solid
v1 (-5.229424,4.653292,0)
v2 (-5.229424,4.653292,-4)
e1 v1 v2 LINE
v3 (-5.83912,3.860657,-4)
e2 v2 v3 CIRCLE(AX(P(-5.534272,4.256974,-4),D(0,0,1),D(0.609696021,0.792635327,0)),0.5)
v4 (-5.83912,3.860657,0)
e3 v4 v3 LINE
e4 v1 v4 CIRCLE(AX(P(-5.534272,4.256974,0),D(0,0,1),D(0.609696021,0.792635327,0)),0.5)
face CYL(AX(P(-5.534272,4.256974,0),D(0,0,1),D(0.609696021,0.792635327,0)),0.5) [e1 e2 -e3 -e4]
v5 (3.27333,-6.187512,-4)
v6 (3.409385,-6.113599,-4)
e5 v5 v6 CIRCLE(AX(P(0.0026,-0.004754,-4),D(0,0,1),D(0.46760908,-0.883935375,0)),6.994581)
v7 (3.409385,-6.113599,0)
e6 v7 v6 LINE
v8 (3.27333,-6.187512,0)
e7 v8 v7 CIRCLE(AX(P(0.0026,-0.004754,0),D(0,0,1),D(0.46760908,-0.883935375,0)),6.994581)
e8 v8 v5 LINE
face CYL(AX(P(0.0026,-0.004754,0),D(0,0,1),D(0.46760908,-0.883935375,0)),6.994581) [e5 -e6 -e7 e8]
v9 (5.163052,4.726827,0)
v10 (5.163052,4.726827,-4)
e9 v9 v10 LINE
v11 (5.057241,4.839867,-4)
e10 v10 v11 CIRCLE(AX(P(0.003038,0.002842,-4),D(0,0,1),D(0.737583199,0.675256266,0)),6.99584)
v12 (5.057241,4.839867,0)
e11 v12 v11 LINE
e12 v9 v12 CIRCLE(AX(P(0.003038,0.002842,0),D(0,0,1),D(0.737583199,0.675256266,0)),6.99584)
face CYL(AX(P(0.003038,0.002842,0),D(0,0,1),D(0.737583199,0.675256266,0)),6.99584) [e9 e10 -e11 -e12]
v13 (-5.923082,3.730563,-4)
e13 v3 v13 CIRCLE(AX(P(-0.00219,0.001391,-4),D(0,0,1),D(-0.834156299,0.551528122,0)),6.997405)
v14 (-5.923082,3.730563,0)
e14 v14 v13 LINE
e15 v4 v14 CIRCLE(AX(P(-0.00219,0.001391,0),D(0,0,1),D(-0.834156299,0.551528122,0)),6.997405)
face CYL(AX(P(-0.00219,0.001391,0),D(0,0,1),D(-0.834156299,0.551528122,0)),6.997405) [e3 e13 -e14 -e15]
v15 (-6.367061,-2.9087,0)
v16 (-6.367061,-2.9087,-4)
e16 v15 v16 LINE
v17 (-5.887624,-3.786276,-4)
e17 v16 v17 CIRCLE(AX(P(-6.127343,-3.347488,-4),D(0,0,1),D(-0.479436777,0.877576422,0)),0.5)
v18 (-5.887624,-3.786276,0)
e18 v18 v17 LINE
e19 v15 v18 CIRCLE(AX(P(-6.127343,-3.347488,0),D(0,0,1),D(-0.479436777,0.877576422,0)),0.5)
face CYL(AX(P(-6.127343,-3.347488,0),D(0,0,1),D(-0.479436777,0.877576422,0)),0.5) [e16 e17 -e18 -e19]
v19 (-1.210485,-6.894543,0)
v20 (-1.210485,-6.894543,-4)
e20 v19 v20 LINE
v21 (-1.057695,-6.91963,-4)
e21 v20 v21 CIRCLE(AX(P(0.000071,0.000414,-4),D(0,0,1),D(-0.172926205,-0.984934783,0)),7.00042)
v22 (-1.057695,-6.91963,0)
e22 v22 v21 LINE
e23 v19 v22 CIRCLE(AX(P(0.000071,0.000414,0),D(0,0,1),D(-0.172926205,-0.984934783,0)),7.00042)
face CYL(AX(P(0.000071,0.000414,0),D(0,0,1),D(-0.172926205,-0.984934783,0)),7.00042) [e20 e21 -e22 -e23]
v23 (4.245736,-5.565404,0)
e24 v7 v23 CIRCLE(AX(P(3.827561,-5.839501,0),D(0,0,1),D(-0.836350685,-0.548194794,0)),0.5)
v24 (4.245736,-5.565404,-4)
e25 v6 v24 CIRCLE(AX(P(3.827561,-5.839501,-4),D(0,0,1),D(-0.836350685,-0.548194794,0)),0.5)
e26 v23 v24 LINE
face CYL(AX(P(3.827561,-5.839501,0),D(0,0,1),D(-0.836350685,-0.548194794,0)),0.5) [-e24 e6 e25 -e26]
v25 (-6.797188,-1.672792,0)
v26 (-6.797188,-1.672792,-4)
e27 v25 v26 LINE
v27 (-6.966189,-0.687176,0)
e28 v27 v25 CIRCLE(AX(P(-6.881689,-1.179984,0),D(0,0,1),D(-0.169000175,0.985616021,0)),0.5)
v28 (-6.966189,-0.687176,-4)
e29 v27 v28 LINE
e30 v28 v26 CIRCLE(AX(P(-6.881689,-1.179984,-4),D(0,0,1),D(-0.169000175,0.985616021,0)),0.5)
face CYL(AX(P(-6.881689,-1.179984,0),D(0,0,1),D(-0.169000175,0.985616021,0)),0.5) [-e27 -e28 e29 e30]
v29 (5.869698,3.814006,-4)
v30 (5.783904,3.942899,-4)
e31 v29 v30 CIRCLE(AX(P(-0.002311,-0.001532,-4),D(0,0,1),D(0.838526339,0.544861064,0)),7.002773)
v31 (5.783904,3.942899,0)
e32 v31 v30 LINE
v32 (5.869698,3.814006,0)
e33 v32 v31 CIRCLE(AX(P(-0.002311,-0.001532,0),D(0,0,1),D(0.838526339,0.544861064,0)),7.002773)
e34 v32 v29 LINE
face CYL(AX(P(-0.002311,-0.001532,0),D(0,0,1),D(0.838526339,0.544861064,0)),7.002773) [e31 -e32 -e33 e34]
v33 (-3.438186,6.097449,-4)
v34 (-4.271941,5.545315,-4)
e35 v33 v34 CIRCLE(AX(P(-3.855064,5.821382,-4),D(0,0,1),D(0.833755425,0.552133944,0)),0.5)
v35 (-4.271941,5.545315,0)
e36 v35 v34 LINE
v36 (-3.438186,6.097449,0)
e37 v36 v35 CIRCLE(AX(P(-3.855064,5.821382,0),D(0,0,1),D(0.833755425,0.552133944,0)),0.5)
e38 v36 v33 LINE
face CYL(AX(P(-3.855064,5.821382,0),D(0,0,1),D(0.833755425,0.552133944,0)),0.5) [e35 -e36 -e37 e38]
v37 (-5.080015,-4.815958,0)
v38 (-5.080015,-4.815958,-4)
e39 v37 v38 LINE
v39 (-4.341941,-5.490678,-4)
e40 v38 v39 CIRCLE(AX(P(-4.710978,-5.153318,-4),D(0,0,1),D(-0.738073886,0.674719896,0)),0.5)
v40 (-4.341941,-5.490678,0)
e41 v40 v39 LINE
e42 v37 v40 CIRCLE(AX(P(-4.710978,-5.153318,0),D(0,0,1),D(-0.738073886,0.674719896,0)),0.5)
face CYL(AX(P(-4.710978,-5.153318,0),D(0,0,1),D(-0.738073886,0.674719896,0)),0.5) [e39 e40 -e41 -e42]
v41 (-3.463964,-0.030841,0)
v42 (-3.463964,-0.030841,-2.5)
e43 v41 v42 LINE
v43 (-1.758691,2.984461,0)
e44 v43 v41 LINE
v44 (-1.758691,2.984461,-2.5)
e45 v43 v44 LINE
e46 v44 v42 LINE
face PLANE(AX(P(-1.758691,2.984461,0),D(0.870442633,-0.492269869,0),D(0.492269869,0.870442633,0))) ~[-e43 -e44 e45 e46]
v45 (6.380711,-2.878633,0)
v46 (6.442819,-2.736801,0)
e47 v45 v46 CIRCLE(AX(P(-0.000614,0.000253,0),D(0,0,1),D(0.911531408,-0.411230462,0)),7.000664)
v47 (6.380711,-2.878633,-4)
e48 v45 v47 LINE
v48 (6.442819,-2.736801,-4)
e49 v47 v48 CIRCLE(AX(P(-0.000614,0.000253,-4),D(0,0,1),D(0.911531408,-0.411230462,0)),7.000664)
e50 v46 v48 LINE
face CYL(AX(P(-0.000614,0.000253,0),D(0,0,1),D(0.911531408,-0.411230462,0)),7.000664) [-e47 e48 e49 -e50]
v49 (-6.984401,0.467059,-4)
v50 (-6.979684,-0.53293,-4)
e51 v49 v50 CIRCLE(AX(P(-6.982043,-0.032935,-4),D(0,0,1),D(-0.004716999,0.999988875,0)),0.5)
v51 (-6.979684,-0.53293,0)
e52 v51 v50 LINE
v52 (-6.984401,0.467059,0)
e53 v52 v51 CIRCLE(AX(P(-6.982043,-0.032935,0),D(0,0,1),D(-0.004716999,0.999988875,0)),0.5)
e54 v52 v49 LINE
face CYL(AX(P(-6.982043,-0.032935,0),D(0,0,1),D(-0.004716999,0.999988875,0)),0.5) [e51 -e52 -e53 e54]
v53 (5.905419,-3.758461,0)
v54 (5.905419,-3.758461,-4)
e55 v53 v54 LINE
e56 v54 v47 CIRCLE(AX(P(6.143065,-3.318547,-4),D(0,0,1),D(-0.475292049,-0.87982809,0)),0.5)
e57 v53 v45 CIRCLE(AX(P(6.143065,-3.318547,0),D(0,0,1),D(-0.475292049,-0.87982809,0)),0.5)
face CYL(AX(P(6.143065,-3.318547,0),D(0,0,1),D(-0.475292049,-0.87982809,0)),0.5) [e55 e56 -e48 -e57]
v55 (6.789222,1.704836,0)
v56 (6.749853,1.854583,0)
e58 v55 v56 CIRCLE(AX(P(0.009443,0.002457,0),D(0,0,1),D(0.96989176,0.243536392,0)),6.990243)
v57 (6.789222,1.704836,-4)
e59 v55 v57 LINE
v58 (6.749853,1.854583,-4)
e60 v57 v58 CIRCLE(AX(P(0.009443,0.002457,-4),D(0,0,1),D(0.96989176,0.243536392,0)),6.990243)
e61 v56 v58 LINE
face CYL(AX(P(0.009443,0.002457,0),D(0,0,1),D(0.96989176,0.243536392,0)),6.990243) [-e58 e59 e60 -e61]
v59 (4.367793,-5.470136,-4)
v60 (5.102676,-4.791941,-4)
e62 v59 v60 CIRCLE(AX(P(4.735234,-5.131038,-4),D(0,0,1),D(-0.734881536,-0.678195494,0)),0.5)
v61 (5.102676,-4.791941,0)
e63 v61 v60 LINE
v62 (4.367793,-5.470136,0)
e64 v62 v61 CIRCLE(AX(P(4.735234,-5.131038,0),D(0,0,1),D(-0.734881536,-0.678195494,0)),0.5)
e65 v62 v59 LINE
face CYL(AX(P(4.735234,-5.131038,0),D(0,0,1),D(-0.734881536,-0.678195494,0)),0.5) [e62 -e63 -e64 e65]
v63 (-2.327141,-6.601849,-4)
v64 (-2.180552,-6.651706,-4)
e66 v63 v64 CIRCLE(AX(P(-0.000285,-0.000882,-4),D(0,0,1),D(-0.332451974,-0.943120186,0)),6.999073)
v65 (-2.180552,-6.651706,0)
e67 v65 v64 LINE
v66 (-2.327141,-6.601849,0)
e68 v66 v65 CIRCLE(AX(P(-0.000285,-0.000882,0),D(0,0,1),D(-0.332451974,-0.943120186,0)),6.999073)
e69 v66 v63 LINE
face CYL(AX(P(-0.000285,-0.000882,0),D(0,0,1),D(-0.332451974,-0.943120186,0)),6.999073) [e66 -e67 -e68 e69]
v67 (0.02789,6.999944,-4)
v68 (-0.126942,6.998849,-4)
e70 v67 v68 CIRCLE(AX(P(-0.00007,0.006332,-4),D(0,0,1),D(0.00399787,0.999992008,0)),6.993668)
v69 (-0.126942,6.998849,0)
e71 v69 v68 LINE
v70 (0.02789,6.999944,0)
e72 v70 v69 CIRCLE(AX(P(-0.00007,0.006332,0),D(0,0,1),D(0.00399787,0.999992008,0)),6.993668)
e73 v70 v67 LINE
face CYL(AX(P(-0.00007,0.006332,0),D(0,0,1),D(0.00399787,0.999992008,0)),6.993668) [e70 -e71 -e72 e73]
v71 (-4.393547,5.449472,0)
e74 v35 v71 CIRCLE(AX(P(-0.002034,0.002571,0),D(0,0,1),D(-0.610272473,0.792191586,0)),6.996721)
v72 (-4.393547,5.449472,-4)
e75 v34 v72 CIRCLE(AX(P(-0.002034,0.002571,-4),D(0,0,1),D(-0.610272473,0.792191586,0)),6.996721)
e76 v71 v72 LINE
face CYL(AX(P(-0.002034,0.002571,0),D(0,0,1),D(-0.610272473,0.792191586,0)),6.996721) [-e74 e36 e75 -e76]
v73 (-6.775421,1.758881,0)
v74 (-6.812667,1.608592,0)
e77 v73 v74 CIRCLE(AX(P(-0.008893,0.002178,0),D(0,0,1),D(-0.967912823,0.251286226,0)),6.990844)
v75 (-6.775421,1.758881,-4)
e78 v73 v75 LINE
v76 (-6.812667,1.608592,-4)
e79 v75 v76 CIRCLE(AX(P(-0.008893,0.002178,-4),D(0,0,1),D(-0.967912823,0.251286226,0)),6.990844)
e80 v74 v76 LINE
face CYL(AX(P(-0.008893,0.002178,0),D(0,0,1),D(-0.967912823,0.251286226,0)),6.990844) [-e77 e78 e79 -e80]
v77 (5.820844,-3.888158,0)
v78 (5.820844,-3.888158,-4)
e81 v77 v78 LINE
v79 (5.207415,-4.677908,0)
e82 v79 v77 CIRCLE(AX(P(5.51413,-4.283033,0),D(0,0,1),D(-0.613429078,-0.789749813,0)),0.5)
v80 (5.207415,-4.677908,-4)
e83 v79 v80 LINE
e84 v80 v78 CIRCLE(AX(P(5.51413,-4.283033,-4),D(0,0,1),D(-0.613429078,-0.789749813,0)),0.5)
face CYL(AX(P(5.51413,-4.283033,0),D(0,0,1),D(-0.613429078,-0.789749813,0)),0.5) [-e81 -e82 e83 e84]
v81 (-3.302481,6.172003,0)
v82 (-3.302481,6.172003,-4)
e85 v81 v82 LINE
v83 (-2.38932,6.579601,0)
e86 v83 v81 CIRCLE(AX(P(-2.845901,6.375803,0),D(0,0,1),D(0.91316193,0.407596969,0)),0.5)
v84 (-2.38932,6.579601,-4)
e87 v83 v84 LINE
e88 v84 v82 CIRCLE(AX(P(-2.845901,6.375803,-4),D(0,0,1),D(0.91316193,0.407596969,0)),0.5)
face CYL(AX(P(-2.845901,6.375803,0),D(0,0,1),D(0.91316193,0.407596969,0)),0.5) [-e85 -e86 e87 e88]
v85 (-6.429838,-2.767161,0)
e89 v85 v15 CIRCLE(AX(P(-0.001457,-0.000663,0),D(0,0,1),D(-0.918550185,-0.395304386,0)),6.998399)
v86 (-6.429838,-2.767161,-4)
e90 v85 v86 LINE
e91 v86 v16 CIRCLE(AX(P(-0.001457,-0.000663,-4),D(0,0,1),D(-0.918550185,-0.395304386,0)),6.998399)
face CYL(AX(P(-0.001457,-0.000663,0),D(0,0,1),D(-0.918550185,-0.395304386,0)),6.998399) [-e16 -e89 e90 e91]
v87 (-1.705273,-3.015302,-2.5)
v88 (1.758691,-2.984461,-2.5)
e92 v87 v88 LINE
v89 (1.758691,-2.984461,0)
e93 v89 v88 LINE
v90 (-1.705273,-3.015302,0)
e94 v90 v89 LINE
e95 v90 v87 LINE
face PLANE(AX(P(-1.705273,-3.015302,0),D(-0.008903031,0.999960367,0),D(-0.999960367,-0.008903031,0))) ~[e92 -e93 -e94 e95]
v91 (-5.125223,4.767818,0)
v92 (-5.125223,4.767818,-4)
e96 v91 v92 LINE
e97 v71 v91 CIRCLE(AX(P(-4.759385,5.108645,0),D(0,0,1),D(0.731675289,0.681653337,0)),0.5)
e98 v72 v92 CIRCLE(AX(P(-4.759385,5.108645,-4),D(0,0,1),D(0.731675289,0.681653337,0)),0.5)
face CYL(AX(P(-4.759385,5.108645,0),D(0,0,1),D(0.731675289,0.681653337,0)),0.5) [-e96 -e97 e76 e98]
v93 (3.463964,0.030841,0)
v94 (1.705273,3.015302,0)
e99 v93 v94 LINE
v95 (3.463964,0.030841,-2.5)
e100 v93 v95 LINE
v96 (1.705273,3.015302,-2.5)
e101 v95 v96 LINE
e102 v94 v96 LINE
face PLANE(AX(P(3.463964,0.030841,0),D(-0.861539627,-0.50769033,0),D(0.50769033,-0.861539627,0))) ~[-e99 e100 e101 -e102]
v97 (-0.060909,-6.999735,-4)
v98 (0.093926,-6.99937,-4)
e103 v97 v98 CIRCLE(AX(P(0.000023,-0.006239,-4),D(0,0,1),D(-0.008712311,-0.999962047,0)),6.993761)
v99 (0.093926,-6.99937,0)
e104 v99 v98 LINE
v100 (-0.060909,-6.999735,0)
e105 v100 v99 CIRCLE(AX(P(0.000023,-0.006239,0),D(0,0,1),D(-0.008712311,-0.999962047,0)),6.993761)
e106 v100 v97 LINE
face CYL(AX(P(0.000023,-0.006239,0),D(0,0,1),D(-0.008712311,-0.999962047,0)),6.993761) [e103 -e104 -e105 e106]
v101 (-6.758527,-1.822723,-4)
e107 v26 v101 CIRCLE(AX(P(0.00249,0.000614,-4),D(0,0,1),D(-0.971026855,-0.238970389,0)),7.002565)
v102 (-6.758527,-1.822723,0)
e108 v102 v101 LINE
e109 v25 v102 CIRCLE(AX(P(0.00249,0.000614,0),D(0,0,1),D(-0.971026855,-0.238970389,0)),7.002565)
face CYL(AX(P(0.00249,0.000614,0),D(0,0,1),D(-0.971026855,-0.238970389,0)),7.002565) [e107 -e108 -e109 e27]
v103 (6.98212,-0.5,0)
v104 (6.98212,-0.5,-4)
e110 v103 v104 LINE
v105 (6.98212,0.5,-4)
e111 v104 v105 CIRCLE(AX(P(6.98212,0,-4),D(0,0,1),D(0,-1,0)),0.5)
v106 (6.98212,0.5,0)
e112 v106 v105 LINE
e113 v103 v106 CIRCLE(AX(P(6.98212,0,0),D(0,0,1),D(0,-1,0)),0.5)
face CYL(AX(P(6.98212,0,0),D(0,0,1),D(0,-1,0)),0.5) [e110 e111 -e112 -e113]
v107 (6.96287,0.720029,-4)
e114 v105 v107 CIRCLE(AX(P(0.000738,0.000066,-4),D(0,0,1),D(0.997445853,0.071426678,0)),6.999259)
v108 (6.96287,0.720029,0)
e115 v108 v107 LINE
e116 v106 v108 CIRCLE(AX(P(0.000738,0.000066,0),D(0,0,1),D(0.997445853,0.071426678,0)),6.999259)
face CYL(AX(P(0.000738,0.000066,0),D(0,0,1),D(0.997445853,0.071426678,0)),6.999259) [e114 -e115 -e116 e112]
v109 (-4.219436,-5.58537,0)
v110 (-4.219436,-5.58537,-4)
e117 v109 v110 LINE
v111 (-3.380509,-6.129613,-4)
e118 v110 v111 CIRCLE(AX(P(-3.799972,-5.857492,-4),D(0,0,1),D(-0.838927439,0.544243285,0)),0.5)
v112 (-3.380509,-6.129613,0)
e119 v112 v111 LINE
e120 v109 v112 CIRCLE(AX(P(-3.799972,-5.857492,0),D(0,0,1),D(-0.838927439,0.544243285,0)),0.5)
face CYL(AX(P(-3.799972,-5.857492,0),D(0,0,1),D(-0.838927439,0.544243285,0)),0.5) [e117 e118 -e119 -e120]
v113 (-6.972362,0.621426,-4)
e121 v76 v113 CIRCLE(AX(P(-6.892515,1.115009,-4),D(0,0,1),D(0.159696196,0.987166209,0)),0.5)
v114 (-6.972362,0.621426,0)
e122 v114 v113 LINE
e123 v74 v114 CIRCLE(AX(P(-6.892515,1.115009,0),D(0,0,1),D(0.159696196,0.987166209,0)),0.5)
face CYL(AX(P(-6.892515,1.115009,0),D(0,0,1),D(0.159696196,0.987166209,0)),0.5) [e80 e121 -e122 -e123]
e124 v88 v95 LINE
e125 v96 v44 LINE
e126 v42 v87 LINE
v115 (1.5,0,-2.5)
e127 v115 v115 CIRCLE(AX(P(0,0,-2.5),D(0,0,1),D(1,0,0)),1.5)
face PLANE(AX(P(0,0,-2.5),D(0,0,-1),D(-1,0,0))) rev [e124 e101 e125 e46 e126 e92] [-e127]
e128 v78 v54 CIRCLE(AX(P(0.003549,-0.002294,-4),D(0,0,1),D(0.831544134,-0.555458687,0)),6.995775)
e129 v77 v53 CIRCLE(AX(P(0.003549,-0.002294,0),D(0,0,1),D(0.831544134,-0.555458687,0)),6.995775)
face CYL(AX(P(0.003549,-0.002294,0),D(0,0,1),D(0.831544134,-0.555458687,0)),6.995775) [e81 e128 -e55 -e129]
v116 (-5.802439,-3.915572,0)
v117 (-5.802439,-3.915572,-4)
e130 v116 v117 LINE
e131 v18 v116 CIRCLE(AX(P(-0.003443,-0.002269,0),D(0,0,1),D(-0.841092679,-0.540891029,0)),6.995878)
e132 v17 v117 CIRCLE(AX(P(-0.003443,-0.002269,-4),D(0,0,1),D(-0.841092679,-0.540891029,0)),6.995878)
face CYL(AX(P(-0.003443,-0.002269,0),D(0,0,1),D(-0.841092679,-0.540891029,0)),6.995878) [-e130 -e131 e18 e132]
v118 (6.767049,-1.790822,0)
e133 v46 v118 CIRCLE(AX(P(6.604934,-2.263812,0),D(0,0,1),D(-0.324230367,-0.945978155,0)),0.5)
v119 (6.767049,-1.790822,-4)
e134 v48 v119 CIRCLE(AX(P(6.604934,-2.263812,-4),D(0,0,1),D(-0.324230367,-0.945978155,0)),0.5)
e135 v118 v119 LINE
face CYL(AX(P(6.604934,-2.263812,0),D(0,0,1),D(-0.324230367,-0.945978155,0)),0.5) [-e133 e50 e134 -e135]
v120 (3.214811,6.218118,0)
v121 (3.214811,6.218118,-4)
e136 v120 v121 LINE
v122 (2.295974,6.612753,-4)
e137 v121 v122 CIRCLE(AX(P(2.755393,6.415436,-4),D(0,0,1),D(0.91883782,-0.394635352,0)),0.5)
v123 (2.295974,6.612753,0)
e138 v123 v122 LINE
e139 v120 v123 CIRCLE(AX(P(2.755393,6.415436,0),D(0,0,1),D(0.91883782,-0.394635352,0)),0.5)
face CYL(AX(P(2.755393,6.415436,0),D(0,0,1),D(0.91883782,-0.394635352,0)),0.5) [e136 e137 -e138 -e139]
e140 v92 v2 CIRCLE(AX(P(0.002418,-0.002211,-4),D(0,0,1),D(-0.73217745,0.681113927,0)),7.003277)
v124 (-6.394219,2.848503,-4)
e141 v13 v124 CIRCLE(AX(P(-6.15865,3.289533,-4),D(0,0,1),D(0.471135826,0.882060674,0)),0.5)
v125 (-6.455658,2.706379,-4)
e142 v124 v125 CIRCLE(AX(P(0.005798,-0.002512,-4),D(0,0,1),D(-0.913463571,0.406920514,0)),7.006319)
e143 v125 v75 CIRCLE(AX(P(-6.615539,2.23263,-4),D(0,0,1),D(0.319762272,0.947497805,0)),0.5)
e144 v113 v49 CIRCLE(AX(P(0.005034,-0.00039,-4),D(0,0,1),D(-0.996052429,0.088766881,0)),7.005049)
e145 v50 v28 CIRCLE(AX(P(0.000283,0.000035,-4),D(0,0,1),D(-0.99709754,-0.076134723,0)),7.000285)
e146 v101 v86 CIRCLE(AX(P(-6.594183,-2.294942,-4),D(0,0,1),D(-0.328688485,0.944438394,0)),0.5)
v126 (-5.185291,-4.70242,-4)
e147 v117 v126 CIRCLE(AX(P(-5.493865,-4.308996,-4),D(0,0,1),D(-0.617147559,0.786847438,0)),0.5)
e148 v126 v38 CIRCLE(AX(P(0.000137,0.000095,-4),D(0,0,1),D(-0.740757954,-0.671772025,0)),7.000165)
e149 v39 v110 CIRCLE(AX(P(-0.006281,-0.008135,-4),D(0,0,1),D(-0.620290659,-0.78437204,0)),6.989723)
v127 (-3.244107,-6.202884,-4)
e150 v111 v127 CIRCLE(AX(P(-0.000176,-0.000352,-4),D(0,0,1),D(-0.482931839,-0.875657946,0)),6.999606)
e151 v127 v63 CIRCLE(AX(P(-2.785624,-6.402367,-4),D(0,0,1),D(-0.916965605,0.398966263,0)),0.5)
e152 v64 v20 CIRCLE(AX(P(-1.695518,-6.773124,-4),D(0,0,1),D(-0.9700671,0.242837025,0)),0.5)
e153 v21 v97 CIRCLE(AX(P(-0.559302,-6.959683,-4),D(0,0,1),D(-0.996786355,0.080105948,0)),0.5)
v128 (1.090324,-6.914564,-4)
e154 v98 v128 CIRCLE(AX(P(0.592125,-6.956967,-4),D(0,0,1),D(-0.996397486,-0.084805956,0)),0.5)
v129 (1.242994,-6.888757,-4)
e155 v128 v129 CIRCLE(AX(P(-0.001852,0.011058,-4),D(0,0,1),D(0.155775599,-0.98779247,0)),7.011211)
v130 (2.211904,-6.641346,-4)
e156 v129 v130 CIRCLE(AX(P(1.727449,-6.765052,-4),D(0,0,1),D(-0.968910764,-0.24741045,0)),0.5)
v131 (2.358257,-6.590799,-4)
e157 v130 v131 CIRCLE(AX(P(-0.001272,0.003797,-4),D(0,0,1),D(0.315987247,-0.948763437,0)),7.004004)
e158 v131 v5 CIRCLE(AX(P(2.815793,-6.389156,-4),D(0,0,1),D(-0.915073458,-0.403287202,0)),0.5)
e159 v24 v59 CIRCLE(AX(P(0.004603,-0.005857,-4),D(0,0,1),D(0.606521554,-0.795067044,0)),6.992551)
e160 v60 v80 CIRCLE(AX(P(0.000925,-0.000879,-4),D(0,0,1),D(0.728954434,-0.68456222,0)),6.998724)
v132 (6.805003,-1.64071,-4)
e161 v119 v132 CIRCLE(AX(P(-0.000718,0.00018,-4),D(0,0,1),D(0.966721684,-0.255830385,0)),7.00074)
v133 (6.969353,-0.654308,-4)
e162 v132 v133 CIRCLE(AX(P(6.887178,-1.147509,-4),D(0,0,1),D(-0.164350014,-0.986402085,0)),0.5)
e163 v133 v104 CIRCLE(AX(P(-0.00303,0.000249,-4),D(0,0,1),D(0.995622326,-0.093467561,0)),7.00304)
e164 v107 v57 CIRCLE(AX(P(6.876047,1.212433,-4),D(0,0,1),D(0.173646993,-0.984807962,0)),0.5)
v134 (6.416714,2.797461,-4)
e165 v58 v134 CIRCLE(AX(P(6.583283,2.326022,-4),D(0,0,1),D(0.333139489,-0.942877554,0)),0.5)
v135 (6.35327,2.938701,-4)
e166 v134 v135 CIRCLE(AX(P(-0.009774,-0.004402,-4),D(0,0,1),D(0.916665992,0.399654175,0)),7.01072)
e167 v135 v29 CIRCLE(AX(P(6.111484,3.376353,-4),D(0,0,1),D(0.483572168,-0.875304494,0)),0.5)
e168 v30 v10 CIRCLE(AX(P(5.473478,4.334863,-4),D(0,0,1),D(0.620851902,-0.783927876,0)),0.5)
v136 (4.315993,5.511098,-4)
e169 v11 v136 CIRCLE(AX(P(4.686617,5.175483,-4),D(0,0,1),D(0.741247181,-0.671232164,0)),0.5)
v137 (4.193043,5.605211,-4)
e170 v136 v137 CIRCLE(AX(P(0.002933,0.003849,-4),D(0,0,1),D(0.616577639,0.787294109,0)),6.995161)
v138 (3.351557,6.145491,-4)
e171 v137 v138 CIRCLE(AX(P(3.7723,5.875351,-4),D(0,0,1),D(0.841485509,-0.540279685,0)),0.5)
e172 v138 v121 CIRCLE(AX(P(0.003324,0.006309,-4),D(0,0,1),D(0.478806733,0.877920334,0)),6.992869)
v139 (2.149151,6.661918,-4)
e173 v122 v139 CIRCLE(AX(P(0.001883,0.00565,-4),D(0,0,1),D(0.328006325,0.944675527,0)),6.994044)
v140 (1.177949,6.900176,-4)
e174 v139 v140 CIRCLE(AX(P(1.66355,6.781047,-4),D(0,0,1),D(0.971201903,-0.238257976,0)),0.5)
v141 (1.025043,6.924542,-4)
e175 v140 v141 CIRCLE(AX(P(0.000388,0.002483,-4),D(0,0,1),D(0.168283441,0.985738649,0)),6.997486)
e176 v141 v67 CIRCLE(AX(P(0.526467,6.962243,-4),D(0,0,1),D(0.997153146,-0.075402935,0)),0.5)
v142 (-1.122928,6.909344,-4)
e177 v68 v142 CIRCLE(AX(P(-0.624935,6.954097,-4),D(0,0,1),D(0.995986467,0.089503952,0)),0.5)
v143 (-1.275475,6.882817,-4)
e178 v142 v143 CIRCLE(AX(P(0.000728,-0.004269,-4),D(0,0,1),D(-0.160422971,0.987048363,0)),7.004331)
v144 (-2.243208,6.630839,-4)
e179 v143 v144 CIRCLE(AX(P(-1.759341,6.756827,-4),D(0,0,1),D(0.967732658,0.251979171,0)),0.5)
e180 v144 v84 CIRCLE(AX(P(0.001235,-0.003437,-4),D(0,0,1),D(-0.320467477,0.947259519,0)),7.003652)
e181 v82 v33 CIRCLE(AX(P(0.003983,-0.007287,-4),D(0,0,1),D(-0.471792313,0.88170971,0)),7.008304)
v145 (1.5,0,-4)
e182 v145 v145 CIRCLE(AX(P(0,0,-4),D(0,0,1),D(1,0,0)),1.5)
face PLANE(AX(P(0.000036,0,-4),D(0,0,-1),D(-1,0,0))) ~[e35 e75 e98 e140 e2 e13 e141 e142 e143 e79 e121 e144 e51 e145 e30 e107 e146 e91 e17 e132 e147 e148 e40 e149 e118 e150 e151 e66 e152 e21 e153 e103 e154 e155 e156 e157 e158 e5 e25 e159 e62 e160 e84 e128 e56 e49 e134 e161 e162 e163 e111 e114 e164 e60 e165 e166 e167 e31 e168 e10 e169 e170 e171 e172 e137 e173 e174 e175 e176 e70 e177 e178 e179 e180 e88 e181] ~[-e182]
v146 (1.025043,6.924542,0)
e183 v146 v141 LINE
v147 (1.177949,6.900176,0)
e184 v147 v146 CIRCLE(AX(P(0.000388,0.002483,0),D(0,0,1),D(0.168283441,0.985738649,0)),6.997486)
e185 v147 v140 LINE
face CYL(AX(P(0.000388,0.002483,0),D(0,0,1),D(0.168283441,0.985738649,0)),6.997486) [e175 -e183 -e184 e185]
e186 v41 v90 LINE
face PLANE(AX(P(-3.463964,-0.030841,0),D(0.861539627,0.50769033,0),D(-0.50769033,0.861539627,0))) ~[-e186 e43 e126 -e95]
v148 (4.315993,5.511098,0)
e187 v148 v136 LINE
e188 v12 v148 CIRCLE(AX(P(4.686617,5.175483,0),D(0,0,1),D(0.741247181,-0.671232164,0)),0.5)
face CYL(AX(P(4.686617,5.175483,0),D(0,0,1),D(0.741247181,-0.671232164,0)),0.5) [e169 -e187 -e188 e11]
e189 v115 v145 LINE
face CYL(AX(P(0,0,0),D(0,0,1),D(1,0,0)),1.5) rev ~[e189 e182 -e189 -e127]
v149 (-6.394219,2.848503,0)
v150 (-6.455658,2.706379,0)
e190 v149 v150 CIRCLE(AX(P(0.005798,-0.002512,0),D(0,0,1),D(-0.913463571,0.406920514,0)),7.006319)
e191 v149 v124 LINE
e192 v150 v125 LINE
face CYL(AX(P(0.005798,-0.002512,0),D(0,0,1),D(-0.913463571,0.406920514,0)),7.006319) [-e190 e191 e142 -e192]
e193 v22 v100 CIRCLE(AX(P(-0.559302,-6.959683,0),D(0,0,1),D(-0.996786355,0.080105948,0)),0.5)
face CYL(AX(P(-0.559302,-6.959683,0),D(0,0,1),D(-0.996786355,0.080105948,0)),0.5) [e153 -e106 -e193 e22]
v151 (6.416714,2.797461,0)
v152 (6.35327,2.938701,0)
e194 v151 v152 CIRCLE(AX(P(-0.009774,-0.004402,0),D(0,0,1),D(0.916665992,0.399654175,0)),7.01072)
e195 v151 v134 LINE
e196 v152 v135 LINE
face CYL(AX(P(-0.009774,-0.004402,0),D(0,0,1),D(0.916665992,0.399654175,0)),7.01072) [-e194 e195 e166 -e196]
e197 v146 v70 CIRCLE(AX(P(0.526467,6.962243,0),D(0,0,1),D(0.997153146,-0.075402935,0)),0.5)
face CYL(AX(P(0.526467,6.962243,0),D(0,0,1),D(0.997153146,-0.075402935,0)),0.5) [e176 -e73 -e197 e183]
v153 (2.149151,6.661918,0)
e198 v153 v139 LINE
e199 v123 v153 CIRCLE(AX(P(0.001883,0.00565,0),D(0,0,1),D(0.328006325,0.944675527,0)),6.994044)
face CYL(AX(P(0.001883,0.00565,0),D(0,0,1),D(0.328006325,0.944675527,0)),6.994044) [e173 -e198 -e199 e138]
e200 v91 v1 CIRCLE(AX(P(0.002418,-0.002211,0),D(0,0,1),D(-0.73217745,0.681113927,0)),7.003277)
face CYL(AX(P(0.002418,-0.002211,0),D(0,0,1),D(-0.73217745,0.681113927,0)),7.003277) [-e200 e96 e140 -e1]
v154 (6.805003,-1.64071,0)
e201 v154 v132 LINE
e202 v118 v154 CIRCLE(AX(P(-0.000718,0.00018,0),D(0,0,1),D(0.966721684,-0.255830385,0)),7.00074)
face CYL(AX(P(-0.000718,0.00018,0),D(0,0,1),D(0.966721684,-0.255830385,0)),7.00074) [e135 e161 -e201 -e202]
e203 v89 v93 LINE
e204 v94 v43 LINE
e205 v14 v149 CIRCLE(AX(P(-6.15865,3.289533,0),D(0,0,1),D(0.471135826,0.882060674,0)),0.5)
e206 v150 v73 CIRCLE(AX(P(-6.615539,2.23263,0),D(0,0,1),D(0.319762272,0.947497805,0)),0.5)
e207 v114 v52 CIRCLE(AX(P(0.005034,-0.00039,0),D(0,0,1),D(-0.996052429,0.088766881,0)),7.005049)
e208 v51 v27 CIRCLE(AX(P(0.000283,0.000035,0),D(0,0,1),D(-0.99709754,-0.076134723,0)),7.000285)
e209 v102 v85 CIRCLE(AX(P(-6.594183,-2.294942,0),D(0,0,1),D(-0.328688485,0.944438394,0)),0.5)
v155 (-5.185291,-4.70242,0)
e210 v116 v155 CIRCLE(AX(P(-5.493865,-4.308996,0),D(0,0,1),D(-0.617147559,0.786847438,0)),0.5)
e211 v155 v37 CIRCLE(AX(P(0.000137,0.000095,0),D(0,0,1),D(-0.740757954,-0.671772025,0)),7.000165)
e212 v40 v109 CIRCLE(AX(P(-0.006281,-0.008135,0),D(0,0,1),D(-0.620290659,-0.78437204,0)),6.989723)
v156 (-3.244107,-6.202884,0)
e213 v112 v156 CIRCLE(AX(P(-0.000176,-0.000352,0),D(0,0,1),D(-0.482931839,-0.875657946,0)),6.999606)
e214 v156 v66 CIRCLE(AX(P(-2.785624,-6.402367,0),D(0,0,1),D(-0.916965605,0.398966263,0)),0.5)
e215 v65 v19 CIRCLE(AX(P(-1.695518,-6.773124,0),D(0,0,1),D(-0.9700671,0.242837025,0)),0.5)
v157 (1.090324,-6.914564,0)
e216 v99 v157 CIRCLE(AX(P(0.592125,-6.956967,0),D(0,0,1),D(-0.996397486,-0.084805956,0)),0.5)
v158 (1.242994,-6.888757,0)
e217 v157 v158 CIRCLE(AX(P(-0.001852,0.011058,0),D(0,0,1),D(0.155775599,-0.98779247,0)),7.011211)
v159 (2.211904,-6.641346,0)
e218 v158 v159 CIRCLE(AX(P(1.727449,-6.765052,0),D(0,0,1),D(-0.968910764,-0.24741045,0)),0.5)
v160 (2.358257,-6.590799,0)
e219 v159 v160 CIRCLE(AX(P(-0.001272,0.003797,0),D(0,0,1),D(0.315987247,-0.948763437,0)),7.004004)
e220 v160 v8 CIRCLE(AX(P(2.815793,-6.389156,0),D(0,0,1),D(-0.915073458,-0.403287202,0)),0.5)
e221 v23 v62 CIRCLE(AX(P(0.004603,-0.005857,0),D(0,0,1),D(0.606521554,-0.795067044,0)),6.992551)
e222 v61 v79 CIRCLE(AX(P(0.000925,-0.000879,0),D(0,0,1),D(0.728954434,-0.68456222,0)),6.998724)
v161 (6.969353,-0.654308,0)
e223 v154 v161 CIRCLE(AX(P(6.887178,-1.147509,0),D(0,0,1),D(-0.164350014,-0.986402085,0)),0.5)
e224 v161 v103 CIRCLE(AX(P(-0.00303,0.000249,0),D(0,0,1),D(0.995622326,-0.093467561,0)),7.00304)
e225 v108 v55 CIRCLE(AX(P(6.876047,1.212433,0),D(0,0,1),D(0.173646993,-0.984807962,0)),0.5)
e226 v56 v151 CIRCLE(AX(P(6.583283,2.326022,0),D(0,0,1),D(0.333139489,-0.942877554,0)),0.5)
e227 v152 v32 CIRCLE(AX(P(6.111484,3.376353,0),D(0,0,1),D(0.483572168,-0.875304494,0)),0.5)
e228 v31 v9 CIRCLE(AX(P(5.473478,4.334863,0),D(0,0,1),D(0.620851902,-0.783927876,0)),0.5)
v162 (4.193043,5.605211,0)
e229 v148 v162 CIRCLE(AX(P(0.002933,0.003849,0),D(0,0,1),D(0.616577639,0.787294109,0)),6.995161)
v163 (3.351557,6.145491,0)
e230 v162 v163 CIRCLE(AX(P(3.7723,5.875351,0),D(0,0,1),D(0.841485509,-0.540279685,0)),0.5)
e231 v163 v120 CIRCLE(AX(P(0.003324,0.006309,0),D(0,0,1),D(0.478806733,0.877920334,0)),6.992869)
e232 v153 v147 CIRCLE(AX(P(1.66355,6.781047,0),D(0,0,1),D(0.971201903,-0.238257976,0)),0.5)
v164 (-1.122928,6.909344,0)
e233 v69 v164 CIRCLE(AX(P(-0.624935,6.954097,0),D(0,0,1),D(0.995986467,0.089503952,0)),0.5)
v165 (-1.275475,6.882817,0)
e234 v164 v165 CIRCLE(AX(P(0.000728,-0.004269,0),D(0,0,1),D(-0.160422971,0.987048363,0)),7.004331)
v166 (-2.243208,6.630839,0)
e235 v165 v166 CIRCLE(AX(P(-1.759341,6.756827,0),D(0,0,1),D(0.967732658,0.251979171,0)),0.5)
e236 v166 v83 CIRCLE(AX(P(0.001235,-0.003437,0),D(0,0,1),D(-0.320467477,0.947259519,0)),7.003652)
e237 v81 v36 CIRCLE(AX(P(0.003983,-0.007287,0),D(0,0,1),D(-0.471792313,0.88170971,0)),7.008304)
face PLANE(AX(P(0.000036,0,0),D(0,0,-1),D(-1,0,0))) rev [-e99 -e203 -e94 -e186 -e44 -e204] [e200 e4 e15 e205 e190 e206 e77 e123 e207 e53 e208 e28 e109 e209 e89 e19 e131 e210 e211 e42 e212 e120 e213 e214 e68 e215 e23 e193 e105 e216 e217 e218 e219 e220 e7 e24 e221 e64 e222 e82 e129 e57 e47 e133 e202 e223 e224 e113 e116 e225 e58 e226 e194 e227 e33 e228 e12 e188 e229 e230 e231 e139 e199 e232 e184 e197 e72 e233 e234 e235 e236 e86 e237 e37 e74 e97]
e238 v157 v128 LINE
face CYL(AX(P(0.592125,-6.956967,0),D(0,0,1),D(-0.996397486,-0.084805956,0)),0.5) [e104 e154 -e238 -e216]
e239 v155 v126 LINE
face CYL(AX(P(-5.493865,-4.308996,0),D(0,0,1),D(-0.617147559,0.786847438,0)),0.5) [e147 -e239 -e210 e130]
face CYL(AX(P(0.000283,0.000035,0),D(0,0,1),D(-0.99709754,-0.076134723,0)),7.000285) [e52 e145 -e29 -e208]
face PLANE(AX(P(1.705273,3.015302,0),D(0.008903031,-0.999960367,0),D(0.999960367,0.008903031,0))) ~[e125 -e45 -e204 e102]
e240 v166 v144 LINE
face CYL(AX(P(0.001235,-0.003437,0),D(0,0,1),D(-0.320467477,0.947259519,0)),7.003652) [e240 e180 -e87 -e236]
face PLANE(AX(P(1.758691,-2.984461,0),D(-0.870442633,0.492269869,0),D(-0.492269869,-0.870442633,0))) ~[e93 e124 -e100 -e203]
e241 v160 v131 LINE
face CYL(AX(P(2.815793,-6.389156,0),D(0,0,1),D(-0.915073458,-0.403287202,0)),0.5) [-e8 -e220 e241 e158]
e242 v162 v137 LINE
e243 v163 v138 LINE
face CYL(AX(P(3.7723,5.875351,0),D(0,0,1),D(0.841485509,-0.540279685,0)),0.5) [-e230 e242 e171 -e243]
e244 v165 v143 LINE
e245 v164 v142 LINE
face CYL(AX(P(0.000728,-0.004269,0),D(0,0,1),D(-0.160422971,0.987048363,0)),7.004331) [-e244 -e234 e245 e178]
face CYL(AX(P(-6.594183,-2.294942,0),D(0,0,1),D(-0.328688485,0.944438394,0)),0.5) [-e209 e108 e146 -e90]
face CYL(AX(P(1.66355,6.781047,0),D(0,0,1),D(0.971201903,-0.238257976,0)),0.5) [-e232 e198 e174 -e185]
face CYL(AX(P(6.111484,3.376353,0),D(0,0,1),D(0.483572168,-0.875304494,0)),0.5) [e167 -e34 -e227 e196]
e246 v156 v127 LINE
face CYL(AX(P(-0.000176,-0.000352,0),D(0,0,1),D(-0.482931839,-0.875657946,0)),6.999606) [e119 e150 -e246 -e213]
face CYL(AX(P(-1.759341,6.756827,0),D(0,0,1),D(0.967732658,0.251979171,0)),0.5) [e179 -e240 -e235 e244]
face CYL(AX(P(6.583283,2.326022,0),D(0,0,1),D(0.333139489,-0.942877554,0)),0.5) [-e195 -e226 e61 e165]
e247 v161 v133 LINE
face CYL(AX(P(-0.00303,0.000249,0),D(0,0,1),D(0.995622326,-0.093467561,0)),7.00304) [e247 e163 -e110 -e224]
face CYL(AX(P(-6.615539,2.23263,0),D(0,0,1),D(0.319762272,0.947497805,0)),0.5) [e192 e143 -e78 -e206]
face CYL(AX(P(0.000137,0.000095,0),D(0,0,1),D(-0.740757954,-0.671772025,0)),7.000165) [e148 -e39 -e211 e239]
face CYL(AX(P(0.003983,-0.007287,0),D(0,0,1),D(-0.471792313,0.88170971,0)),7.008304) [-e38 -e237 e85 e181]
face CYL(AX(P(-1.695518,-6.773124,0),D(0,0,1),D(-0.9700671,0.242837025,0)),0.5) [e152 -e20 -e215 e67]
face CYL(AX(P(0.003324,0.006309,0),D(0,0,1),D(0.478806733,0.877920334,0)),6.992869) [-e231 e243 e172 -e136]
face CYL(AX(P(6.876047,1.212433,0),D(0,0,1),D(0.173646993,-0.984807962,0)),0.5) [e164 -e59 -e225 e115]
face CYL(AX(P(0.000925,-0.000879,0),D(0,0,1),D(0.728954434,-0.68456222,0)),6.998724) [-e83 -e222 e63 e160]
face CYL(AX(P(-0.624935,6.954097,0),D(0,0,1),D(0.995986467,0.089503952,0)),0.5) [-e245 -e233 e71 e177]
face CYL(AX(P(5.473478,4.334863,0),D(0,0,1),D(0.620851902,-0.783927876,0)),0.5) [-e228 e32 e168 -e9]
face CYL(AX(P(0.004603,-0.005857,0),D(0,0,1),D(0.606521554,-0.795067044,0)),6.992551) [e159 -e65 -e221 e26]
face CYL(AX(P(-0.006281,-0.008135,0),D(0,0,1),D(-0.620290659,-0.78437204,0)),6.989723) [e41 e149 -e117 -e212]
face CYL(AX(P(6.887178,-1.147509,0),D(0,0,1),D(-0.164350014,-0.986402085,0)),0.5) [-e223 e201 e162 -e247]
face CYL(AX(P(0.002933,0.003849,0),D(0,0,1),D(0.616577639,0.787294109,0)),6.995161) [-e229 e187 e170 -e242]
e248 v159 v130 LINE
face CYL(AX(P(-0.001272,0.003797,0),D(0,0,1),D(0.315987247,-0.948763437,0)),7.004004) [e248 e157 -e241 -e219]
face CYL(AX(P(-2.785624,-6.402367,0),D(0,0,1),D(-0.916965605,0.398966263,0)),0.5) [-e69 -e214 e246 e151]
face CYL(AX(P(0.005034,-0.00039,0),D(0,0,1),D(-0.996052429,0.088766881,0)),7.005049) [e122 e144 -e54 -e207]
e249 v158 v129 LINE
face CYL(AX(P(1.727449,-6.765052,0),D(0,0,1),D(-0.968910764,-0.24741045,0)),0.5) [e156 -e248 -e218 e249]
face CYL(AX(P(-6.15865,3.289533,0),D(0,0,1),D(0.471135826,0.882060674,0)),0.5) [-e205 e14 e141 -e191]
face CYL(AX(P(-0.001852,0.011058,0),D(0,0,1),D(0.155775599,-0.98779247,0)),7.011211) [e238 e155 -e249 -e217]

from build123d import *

# Parameters (mm, degrees)
F0_R     = 1.5
F1_DEPTH = 4
F2_DEPTH = 2.5


with BuildPart() as f1:
    # F0 (on Top) → F1 (new body)
    with BuildSketch(Plane.XY):
        with BuildLine():
            ThreePointArc((6.98212, -0.5), (6.995529, -0.25016), (7, 0))
            ThreePointArc((7, 0), (6.995529, 0.25016), (6.98212, 0.5))
            ThreePointArc((6.98212, 0.5), (6.973363, 0.61009), (6.96287, 0.720029))
            ThreePointArc((6.96287, 0.720029), (6.893654, 1.215537), (6.789222, 1.704836))
            ThreePointArc((6.789222, 1.704836), (6.769952, 1.779819), (6.749853, 1.854583))
            ThreePointArc((6.749853, 1.854583), (6.600142, 2.331979), (6.416714, 2.797461))
            ThreePointArc((6.416714, 2.797461), (6.385382, 2.868256), (6.35327, 2.938701))
            ThreePointArc((6.35327, 2.938701), (6.127134, 3.385), (5.869698, 3.814006))
            ThreePointArc((5.869698, 3.814006), (5.827157, 3.87869), (5.783904, 3.942899))
            ThreePointArc((5.783904, 3.942899), (5.487495, 4.345964), (5.163052, 4.726827))
            ThreePointArc((5.163052, 4.726827), (5.110459, 4.78364), (5.057241, 4.839867))
            ThreePointArc((5.057241, 4.839867), (4.698619, 5.188736), (4.315993, 5.511098))
            ThreePointArc((4.315993, 5.511098), (4.254778, 5.558495), (4.193043, 5.605211))
            ThreePointArc((4.193043, 5.605211), (3.78196, 5.890397), (3.351557, 6.145491))
            ThreePointArc((3.351557, 6.145491), (3.283385, 6.182183), (3.214811, 6.218118))
            ThreePointArc((3.214811, 6.218118), (2.762449, 6.431864), (2.295974, 6.612753))
            ThreePointArc((2.295974, 6.612753), (2.222698, 6.637742), (2.149151, 6.661918))
            ThreePointArc((2.149151, 6.661918), (1.66781, 6.798412), (1.177949, 6.900176))
            ThreePointArc((1.177949, 6.900176), (1.101563, 6.912782), (1.025043, 6.924542))
            ThreePointArc((1.025043, 6.924542), (0.527814, 6.980072), (0.02789, 6.999944))
            ThreePointArc((0.02789, 6.999944), (-0.049529, 6.999825), (-0.126942, 6.998849))
            ThreePointArc((-0.126942, 6.998849), (-0.626536, 6.971905), (-1.122928, 6.909344))
            ThreePointArc((-1.122928, 6.909344), (-1.199275, 6.896502), (-1.275475, 6.882817))
            ThreePointArc((-1.275475, 6.882817), (-1.763846, 6.774131), (-2.243208, 6.630839))
            ThreePointArc((-2.243208, 6.630839), (-2.316405, 6.605624), (-2.38932, 6.579601))
            ThreePointArc((-2.38932, 6.579601), (-2.853188, 6.392129), (-3.302481, 6.172003))
            ThreePointArc((-3.302481, 6.172003), (-3.370539, 6.135101), (-3.438186, 6.097449))
            ThreePointArc((-3.438186, 6.097449), (-3.864936, 5.836289), (-4.271941, 5.545315))
            ThreePointArc((-4.271941, 5.545315), (-4.333009, 5.49773), (-4.393547, 5.449472))
            ThreePointArc((-4.393547, 5.449472), (-4.771573, 5.121727), (-5.125223, 4.767818))
            ThreePointArc((-5.125223, 4.767818), (-5.17764, 4.710843), (-5.229424, 4.653292))
            ThreePointArc((-5.229424, 4.653292), (-5.548444, 4.267876), (-5.83912, 3.860657))
            ThreePointArc((-5.83912, 3.860657), (-5.881461, 3.795842), (-5.923082, 3.730563))
            ThreePointArc((-5.923082, 3.730563), (-6.174421, 3.297957), (-6.394219, 2.848503))
            ThreePointArc((-6.394219, 2.848503), (-6.425331, 2.777611), (-6.455658, 2.706379))
            ThreePointArc((-6.455658, 2.706379), (-6.632481, 2.238347), (-6.775421, 1.758881))
            ThreePointArc((-6.775421, 1.758881), (-6.79446, 1.68384), (-6.812667, 1.608592))
            ThreePointArc((-6.812667, 1.608592), (-6.910165, 1.117864), (-6.972362, 0.621426))
            ThreePointArc((-6.972362, 0.621426), (-6.978808, 0.544276), (-6.984401, 0.467059))
            ThreePointArc((-6.984401, 0.467059), (-6.999922, -0.03302), (-6.979684, -0.53293))
            ThreePointArc((-6.979684, -0.53293), (-6.973363, -0.61009), (-6.966189, -0.687176))
            ThreePointArc((-6.966189, -0.687176), (-6.899311, -1.183006), (-6.797188, -1.672792))
            ThreePointArc((-6.797188, -1.672792), (-6.778272, -1.747864), (-6.758527, -1.822723))
            ThreePointArc((-6.758527, -1.822723), (-6.611069, -2.300819), (-6.429838, -2.767161))
            ThreePointArc((-6.429838, -2.767161), (-6.398841, -2.838104), (-6.367061, -2.9087))
            ThreePointArc((-6.367061, -2.9087), (-6.143033, -3.35606), (-5.887624, -3.786276))
            ThreePointArc((-5.887624, -3.786276), (-5.845389, -3.85116), (-5.802439, -3.915572))
            ThreePointArc((-5.802439, -3.915572), (-5.507934, -4.320031), (-5.185291, -4.70242))
            ThreePointArc((-5.185291, -4.70242), (-5.132967, -4.75948), (-5.080015, -4.815958))
            ThreePointArc((-5.080015, -4.815958), (-4.723042, -5.166515), (-4.341941, -5.490678))
            ThreePointArc((-4.341941, -5.490678), (-4.280951, -5.538363), (-4.219436, -5.58537))
            ThreePointArc((-4.219436, -5.58537), (-3.809704, -5.872492), (-3.380509, -6.129613))
            ThreePointArc((-3.380509, -6.129613), (-3.31251, -6.166626), (-3.244107, -6.202884))
            ThreePointArc((-3.244107, -6.202884), (-2.792757, -6.418762), (-2.327141, -6.601849))
            ThreePointArc((-2.327141, -6.601849), (-2.253984, -6.627183), (-2.180552, -6.651706))
            ThreePointArc((-2.180552, -6.651706), (-1.69986, -6.790469), (-1.210485, -6.894543))
            ThreePointArc((-1.210485, -6.894543), (-1.134159, -6.907509), (-1.057695, -6.91963))
            ThreePointArc((-1.057695, -6.91963), (-0.560734, -6.977505), (-0.060909, -6.999735))
            ThreePointArc((-0.060909, -6.999735), (0.01651, -6.999981), (0.093926, -6.99937))
            ThreePointArc((0.093926, -6.99937), (0.593641, -6.974782), (1.090324, -6.914564))
            ThreePointArc((1.090324, -6.914564), (1.16673, -6.902082), (1.242994, -6.888757))
            ThreePointArc((1.242994, -6.888757), (1.731873, -6.782375), (2.211904, -6.641346))
            ThreePointArc((2.211904, -6.641346), (2.28522, -6.616477), (2.358257, -6.590799))
            ThreePointArc((2.358257, -6.590799), (2.823004, -6.405517), (3.27333, -6.187512))
            ThreePointArc((3.27333, -6.187512), (3.341562, -6.150932), (3.409385, -6.113599))
            ThreePointArc((3.409385, -6.113599), (3.837362, -5.854456), (4.245736, -5.565404))
            ThreePointArc((4.245736, -5.565404), (4.307028, -5.518108), (4.367793, -5.470136))
            ThreePointArc((4.367793, -5.470136), (4.74736, -5.144178), (5.102676, -4.791941))
            ThreePointArc((5.102676, -4.791941), (5.155361, -4.735214), (5.207415, -4.677908))
            ThreePointArc((5.207415, -4.677908), (5.528251, -4.294001), (5.820844, -3.888158))
            ThreePointArc((5.820844, -3.888158), (5.86349, -3.823544), (5.905419, -3.758461))
            ThreePointArc((5.905419, -3.758461), (6.158796, -3.327046), (6.380711, -2.878633))
            ThreePointArc((6.380711, -2.878633), (6.412157, -2.807889), (6.442819, -2.736801))
            ThreePointArc((6.442819, -2.736801), (6.621848, -2.269609), (6.767049, -1.790822))
            ThreePointArc((6.767049, -1.790822), (6.786441, -1.715871), (6.805003, -1.64071))
            ThreePointArc((6.805003, -1.64071), (6.904815, -1.150448), (6.969353, -0.654308))
            ThreePointArc((6.969353, -0.654308), (6.976163, -0.577189), (6.98212, -0.5))
        make_face()
        Polygon((1.705273, 3.015302), (3.463964, 0.030841), (1.758691, -2.984461), (-1.705273, -3.015302), (-3.463964, -0.030841), (-1.758691, 2.984461), align=None, mode=Mode.SUBTRACT)
        with BuildLine():
            ThreePointArc((6.98212, 0.5), (6.995529, 0.25016), (7, 0))
            ThreePointArc((7, 0), (6.995529, -0.25016), (6.98212, -0.5))
            ThreePointArc((6.98212, -0.5), (7.48212, 0), (6.98212, 0.5))
        make_face()
        with BuildLine():
            ThreePointArc((6.789222, 1.704836), (6.893654, 1.215537), (6.96287, 0.720029))
            ThreePointArc((6.96287, 0.720029), (7.36845, 1.299257), (6.789222, 1.704836))
        make_face()
        with BuildLine():
            ThreePointArc((6.805003, -1.64071), (7.380379, -1.229684), (6.969353, -0.654308))
            ThreePointArc((6.969353, -0.654308), (6.904815, -1.150448), (6.805003, -1.64071))
        make_face()
        with BuildLine():
            ThreePointArc((6.416714, 2.797461), (6.600142, 2.331979), (6.749853, 1.854583))
            ThreePointArc((6.749853, 1.854583), (7.054722, 2.492592), (6.416714, 2.797461))
        make_face()
        with BuildLine():
            ThreePointArc((6.442819, -2.736801), (7.077924, -2.425926), (6.767049, -1.790822))
            ThreePointArc((6.767049, -1.790822), (6.621848, -2.269609), (6.442819, -2.736801))
        make_face()
        with BuildLine():
            ThreePointArc((5.869698, 3.814006), (6.127134, 3.385), (6.35327, 2.938701))
            ThreePointArc((6.35327, 2.938701), (6.549136, 3.61814), (5.869698, 3.814006))
        make_face()
        with BuildLine():
            ThreePointArc((5.905419, -3.758461), (6.582979, -3.556193), (6.380711, -2.878633))
            ThreePointArc((6.380711, -2.878633), (6.158796, -3.327046), (5.905419, -3.758461))
        make_face()
        with BuildLine():
            ThreePointArc((5.163052, 4.726827), (5.487495, 4.345964), (5.783904, 3.942899))
            ThreePointArc((5.783904, 3.942899), (5.865442, 4.645289), (5.163052, 4.726827))
        make_face()
        with BuildLine():
            ThreePointArc((5.207415, -4.677908), (5.909005, -4.589747), (5.820844, -3.888158))
            ThreePointArc((5.820844, -3.888158), (5.528251, -4.294001), (5.207415, -4.677908))
        make_face()
        with BuildLine():
            ThreePointArc((4.315993, 5.511098), (4.698619, 5.188736), (5.057241, 4.839867))
            ThreePointArc((5.057241, 4.839867), (5.022233, 5.546107), (4.315993, 5.511098))
        make_face()
        with BuildLine():
            ThreePointArc((4.367793, -5.470136), (5.074331, -5.49848), (5.102676, -4.791941))
            ThreePointArc((5.102676, -4.791941), (4.74736, -5.144178), (4.367793, -5.470136))
        make_face()
        with BuildLine():
            ThreePointArc((3.351557, 6.145491), (3.78196, 5.890397), (4.193043, 5.605211))
            ThreePointArc((4.193043, 5.605211), (4.04244, 6.296094), (3.351557, 6.145491))
        make_face()
        with BuildLine():
            ThreePointArc((3.409385, -6.113599), (4.101658, -6.257677), (4.245736, -5.565404))
            ThreePointArc((4.245736, -5.565404), (3.837362, -5.854456), (3.409385, -6.113599))
        make_face()
        with BuildLine():
            ThreePointArc((2.295974, 6.612753), (2.762449, 6.431864), (3.214811, 6.218118))
            ThreePointArc((3.214811, 6.218118), (2.95271, 6.874854), (2.295974, 6.612753))
        make_face()
        with BuildLine():
            ThreePointArc((2.358257, -6.590799), (3.017437, -6.846692), (3.27333, -6.187512))
            ThreePointArc((3.27333, -6.187512), (2.823004, -6.405517), (2.358257, -6.590799))
        make_face()
        with BuildLine():
            ThreePointArc((1.177949, 6.900176), (1.66781, 6.798412), (2.149151, 6.661918))
            ThreePointArc((2.149151, 6.661918), (1.782679, 7.266648), (1.177949, 6.900176))
        make_face()
        with BuildLine():
            ThreePointArc((1.242994, -6.888757), (1.851154, -7.249507), (2.211904, -6.641346))
            ThreePointArc((2.211904, -6.641346), (1.731873, -6.782375), (1.242994, -6.888757))
        make_face()
        with BuildLine():
            ThreePointArc((0.02789, 6.999944), (0.527814, 6.980072), (1.025043, 6.924542))
            ThreePointArc((1.025043, 6.924542), (0.564167, 7.46082), (0.02789, 6.999944))
        make_face()
        with BuildLine():
            ThreePointArc((0.093926, -6.99937), (0.634528, -7.455166), (1.090324, -6.914564))
            ThreePointArc((1.090324, -6.914564), (0.593641, -6.974782), (0.093926, -6.99937))
        make_face()
        with BuildLine():
            ThreePointArc((-1.122928, 6.909344), (-0.626536, 6.971905), (-0.126942, 6.998849))
            ThreePointArc((-0.126942, 6.998849), (-0.669688, 7.45209), (-1.122928, 6.909344))
        make_face()
        with BuildLine():
            ThreePointArc((-1.057695, -6.91963), (-0.599354, -7.458076), (-0.060909, -6.999735))
            ThreePointArc((-0.060909, -6.999735), (-0.560734, -6.977505), (-1.057695, -6.91963))
        make_face()
        with BuildLine():
            ThreePointArc((-2.243208, 6.630839), (-1.763846, 6.774131), (-1.275475, 6.882817))
            ThreePointArc((-1.275475, 6.882817), (-1.88533, 7.240694), (-2.243208, 6.630839))
        make_face()
        with BuildLine():
            ThreePointArc((-2.180552, -6.651706), (-1.816937, -7.258158), (-1.210485, -6.894543))
            ThreePointArc((-1.210485, -6.894543), (-1.69986, -6.790469), (-2.180552, -6.651706))
        make_face()
        with BuildLine():
            ThreePointArc((-3.302481, 6.172003), (-2.853188, 6.392129), (-2.38932, 6.579601))
            ThreePointArc((-2.38932, 6.579601), (-3.0497, 6.832383), (-3.302481, 6.172003))
        make_face()
        with BuildLine():
            ThreePointArc((-3.244107, -6.202884), (-2.985107, -6.86085), (-2.327141, -6.601849))
            ThreePointArc((-2.327141, -6.601849), (-2.792757, -6.418762), (-3.244107, -6.202884))
        make_face()
        with BuildLine():
            ThreePointArc((-4.271941, 5.545315), (-3.864936, 5.836289), (-3.438186, 6.097449))
            ThreePointArc((-3.438186, 6.097449), (-4.13113, 6.23826), (-4.271941, 5.545315))
        make_face()
        with BuildLine():
            ThreePointArc((-4.219436, -5.58537), (-4.072094, -6.276955), (-3.380509, -6.129613))
            ThreePointArc((-3.380509, -6.129613), (-3.809704, -5.872492), (-4.219436, -5.58537))
        make_face()
        with BuildLine():
            ThreePointArc((-5.125223, 4.767818), (-4.771573, 5.121727), (-4.393547, 5.449472))
            ThreePointArc((-4.393547, 5.449472), (-5.100212, 5.474483), (-5.125223, 4.767818))
        make_face()
        with BuildLine():
            ThreePointArc((-5.080015, -4.815958), (-5.048338, -5.522355), (-4.341941, -5.490678))
            ThreePointArc((-4.341941, -5.490678), (-4.723042, -5.166515), (-5.080015, -4.815958))
        make_face()
        with BuildLine():
            ThreePointArc((-5.83912, 3.860657), (-5.548444, 4.267876), (-5.229424, 4.653292))
            ThreePointArc((-5.229424, 4.653292), (-5.930589, 4.561823), (-5.83912, 3.860657))
        make_face()
        with BuildLine():
            ThreePointArc((-5.802439, -3.915572), (-5.887289, -4.61757), (-5.185291, -4.70242))
            ThreePointArc((-5.185291, -4.70242), (-5.507934, -4.320031), (-5.802439, -3.915572))
        make_face()
        with BuildLine():
            ThreePointArc((-6.394219, 2.848503), (-6.174421, 3.297957), (-5.923082, 3.730563))
            ThreePointArc((-5.923082, 3.730563), (-6.59968, 3.525101), (-6.394219, 2.848503))
        make_face()
        with BuildLine():
            ThreePointArc((-6.367061, -2.9087), (-6.566131, -3.587206), (-5.887624, -3.786276))
            ThreePointArc((-5.887624, -3.786276), (-6.143033, -3.35606), (-6.367061, -2.9087))
        make_face()
        with BuildLine():
            ThreePointArc((-6.775421, 1.758881), (-6.632481, 2.238347), (-6.455658, 2.706379))
            ThreePointArc((-6.455658, 2.706379), (-7.089288, 2.392512), (-6.775421, 1.758881))
        make_face()
        with BuildLine():
            ThreePointArc((-6.758527, -1.822723), (-7.066402, -2.459286), (-6.429838, -2.767161))
            ThreePointArc((-6.429838, -2.767161), (-6.611069, -2.300819), (-6.758527, -1.822723))
        make_face()
        with BuildLine():
            ThreePointArc((-6.972362, 0.621426), (-6.910165, 1.117864), (-6.812667, 1.608592))
            ThreePointArc((-6.812667, 1.608592), (-7.386098, 1.194857), (-6.972362, 0.621426))
        make_face()
        with BuildLine():
            ThreePointArc((-6.966189, -0.687176), (-7.374497, -1.264484), (-6.797188, -1.672792))
            ThreePointArc((-6.797188, -1.672792), (-6.899311, -1.183006), (-6.966189, -0.687176))
        make_face()
        with BuildLine():
            ThreePointArc((-6.979684, -0.53293), (-6.999922, -0.03302), (-6.984401, 0.467059))
            ThreePointArc((-6.984401, 0.467059), (-7.482037, -0.035294), (-6.979684, -0.53293))
        make_face()
        Polygon((1.758691, -2.984461), (3.463964, 0.030841), (1.705273, 3.015302), (-1.758691, 2.984461), (-3.463964, -0.030841), (-1.705273, -3.015302), align=None)
        Circle(F0_R, mode=Mode.SUBTRACT)
    extrude(amount=F1_DEPTH)

    # F0 (on Top) → F2 (cut)
    with BuildSketch(Plane.XY):
        Polygon((1.758691, -2.984461), (3.463964, 0.030841), (1.705273, 3.015302), (-1.758691, 2.984461), (-3.463964, -0.030841), (-1.705273, -3.015302), align=None)
        Circle(F0_R, mode=Mode.SUBTRACT)
    extrude(amount=F2_DEPTH, mode=Mode.SUBTRACT)


with BuildPart() as f3_1:
    # F3: instance of F1
    add(f1.part.mirror(Plane.XY))


solid = f3_1.part
